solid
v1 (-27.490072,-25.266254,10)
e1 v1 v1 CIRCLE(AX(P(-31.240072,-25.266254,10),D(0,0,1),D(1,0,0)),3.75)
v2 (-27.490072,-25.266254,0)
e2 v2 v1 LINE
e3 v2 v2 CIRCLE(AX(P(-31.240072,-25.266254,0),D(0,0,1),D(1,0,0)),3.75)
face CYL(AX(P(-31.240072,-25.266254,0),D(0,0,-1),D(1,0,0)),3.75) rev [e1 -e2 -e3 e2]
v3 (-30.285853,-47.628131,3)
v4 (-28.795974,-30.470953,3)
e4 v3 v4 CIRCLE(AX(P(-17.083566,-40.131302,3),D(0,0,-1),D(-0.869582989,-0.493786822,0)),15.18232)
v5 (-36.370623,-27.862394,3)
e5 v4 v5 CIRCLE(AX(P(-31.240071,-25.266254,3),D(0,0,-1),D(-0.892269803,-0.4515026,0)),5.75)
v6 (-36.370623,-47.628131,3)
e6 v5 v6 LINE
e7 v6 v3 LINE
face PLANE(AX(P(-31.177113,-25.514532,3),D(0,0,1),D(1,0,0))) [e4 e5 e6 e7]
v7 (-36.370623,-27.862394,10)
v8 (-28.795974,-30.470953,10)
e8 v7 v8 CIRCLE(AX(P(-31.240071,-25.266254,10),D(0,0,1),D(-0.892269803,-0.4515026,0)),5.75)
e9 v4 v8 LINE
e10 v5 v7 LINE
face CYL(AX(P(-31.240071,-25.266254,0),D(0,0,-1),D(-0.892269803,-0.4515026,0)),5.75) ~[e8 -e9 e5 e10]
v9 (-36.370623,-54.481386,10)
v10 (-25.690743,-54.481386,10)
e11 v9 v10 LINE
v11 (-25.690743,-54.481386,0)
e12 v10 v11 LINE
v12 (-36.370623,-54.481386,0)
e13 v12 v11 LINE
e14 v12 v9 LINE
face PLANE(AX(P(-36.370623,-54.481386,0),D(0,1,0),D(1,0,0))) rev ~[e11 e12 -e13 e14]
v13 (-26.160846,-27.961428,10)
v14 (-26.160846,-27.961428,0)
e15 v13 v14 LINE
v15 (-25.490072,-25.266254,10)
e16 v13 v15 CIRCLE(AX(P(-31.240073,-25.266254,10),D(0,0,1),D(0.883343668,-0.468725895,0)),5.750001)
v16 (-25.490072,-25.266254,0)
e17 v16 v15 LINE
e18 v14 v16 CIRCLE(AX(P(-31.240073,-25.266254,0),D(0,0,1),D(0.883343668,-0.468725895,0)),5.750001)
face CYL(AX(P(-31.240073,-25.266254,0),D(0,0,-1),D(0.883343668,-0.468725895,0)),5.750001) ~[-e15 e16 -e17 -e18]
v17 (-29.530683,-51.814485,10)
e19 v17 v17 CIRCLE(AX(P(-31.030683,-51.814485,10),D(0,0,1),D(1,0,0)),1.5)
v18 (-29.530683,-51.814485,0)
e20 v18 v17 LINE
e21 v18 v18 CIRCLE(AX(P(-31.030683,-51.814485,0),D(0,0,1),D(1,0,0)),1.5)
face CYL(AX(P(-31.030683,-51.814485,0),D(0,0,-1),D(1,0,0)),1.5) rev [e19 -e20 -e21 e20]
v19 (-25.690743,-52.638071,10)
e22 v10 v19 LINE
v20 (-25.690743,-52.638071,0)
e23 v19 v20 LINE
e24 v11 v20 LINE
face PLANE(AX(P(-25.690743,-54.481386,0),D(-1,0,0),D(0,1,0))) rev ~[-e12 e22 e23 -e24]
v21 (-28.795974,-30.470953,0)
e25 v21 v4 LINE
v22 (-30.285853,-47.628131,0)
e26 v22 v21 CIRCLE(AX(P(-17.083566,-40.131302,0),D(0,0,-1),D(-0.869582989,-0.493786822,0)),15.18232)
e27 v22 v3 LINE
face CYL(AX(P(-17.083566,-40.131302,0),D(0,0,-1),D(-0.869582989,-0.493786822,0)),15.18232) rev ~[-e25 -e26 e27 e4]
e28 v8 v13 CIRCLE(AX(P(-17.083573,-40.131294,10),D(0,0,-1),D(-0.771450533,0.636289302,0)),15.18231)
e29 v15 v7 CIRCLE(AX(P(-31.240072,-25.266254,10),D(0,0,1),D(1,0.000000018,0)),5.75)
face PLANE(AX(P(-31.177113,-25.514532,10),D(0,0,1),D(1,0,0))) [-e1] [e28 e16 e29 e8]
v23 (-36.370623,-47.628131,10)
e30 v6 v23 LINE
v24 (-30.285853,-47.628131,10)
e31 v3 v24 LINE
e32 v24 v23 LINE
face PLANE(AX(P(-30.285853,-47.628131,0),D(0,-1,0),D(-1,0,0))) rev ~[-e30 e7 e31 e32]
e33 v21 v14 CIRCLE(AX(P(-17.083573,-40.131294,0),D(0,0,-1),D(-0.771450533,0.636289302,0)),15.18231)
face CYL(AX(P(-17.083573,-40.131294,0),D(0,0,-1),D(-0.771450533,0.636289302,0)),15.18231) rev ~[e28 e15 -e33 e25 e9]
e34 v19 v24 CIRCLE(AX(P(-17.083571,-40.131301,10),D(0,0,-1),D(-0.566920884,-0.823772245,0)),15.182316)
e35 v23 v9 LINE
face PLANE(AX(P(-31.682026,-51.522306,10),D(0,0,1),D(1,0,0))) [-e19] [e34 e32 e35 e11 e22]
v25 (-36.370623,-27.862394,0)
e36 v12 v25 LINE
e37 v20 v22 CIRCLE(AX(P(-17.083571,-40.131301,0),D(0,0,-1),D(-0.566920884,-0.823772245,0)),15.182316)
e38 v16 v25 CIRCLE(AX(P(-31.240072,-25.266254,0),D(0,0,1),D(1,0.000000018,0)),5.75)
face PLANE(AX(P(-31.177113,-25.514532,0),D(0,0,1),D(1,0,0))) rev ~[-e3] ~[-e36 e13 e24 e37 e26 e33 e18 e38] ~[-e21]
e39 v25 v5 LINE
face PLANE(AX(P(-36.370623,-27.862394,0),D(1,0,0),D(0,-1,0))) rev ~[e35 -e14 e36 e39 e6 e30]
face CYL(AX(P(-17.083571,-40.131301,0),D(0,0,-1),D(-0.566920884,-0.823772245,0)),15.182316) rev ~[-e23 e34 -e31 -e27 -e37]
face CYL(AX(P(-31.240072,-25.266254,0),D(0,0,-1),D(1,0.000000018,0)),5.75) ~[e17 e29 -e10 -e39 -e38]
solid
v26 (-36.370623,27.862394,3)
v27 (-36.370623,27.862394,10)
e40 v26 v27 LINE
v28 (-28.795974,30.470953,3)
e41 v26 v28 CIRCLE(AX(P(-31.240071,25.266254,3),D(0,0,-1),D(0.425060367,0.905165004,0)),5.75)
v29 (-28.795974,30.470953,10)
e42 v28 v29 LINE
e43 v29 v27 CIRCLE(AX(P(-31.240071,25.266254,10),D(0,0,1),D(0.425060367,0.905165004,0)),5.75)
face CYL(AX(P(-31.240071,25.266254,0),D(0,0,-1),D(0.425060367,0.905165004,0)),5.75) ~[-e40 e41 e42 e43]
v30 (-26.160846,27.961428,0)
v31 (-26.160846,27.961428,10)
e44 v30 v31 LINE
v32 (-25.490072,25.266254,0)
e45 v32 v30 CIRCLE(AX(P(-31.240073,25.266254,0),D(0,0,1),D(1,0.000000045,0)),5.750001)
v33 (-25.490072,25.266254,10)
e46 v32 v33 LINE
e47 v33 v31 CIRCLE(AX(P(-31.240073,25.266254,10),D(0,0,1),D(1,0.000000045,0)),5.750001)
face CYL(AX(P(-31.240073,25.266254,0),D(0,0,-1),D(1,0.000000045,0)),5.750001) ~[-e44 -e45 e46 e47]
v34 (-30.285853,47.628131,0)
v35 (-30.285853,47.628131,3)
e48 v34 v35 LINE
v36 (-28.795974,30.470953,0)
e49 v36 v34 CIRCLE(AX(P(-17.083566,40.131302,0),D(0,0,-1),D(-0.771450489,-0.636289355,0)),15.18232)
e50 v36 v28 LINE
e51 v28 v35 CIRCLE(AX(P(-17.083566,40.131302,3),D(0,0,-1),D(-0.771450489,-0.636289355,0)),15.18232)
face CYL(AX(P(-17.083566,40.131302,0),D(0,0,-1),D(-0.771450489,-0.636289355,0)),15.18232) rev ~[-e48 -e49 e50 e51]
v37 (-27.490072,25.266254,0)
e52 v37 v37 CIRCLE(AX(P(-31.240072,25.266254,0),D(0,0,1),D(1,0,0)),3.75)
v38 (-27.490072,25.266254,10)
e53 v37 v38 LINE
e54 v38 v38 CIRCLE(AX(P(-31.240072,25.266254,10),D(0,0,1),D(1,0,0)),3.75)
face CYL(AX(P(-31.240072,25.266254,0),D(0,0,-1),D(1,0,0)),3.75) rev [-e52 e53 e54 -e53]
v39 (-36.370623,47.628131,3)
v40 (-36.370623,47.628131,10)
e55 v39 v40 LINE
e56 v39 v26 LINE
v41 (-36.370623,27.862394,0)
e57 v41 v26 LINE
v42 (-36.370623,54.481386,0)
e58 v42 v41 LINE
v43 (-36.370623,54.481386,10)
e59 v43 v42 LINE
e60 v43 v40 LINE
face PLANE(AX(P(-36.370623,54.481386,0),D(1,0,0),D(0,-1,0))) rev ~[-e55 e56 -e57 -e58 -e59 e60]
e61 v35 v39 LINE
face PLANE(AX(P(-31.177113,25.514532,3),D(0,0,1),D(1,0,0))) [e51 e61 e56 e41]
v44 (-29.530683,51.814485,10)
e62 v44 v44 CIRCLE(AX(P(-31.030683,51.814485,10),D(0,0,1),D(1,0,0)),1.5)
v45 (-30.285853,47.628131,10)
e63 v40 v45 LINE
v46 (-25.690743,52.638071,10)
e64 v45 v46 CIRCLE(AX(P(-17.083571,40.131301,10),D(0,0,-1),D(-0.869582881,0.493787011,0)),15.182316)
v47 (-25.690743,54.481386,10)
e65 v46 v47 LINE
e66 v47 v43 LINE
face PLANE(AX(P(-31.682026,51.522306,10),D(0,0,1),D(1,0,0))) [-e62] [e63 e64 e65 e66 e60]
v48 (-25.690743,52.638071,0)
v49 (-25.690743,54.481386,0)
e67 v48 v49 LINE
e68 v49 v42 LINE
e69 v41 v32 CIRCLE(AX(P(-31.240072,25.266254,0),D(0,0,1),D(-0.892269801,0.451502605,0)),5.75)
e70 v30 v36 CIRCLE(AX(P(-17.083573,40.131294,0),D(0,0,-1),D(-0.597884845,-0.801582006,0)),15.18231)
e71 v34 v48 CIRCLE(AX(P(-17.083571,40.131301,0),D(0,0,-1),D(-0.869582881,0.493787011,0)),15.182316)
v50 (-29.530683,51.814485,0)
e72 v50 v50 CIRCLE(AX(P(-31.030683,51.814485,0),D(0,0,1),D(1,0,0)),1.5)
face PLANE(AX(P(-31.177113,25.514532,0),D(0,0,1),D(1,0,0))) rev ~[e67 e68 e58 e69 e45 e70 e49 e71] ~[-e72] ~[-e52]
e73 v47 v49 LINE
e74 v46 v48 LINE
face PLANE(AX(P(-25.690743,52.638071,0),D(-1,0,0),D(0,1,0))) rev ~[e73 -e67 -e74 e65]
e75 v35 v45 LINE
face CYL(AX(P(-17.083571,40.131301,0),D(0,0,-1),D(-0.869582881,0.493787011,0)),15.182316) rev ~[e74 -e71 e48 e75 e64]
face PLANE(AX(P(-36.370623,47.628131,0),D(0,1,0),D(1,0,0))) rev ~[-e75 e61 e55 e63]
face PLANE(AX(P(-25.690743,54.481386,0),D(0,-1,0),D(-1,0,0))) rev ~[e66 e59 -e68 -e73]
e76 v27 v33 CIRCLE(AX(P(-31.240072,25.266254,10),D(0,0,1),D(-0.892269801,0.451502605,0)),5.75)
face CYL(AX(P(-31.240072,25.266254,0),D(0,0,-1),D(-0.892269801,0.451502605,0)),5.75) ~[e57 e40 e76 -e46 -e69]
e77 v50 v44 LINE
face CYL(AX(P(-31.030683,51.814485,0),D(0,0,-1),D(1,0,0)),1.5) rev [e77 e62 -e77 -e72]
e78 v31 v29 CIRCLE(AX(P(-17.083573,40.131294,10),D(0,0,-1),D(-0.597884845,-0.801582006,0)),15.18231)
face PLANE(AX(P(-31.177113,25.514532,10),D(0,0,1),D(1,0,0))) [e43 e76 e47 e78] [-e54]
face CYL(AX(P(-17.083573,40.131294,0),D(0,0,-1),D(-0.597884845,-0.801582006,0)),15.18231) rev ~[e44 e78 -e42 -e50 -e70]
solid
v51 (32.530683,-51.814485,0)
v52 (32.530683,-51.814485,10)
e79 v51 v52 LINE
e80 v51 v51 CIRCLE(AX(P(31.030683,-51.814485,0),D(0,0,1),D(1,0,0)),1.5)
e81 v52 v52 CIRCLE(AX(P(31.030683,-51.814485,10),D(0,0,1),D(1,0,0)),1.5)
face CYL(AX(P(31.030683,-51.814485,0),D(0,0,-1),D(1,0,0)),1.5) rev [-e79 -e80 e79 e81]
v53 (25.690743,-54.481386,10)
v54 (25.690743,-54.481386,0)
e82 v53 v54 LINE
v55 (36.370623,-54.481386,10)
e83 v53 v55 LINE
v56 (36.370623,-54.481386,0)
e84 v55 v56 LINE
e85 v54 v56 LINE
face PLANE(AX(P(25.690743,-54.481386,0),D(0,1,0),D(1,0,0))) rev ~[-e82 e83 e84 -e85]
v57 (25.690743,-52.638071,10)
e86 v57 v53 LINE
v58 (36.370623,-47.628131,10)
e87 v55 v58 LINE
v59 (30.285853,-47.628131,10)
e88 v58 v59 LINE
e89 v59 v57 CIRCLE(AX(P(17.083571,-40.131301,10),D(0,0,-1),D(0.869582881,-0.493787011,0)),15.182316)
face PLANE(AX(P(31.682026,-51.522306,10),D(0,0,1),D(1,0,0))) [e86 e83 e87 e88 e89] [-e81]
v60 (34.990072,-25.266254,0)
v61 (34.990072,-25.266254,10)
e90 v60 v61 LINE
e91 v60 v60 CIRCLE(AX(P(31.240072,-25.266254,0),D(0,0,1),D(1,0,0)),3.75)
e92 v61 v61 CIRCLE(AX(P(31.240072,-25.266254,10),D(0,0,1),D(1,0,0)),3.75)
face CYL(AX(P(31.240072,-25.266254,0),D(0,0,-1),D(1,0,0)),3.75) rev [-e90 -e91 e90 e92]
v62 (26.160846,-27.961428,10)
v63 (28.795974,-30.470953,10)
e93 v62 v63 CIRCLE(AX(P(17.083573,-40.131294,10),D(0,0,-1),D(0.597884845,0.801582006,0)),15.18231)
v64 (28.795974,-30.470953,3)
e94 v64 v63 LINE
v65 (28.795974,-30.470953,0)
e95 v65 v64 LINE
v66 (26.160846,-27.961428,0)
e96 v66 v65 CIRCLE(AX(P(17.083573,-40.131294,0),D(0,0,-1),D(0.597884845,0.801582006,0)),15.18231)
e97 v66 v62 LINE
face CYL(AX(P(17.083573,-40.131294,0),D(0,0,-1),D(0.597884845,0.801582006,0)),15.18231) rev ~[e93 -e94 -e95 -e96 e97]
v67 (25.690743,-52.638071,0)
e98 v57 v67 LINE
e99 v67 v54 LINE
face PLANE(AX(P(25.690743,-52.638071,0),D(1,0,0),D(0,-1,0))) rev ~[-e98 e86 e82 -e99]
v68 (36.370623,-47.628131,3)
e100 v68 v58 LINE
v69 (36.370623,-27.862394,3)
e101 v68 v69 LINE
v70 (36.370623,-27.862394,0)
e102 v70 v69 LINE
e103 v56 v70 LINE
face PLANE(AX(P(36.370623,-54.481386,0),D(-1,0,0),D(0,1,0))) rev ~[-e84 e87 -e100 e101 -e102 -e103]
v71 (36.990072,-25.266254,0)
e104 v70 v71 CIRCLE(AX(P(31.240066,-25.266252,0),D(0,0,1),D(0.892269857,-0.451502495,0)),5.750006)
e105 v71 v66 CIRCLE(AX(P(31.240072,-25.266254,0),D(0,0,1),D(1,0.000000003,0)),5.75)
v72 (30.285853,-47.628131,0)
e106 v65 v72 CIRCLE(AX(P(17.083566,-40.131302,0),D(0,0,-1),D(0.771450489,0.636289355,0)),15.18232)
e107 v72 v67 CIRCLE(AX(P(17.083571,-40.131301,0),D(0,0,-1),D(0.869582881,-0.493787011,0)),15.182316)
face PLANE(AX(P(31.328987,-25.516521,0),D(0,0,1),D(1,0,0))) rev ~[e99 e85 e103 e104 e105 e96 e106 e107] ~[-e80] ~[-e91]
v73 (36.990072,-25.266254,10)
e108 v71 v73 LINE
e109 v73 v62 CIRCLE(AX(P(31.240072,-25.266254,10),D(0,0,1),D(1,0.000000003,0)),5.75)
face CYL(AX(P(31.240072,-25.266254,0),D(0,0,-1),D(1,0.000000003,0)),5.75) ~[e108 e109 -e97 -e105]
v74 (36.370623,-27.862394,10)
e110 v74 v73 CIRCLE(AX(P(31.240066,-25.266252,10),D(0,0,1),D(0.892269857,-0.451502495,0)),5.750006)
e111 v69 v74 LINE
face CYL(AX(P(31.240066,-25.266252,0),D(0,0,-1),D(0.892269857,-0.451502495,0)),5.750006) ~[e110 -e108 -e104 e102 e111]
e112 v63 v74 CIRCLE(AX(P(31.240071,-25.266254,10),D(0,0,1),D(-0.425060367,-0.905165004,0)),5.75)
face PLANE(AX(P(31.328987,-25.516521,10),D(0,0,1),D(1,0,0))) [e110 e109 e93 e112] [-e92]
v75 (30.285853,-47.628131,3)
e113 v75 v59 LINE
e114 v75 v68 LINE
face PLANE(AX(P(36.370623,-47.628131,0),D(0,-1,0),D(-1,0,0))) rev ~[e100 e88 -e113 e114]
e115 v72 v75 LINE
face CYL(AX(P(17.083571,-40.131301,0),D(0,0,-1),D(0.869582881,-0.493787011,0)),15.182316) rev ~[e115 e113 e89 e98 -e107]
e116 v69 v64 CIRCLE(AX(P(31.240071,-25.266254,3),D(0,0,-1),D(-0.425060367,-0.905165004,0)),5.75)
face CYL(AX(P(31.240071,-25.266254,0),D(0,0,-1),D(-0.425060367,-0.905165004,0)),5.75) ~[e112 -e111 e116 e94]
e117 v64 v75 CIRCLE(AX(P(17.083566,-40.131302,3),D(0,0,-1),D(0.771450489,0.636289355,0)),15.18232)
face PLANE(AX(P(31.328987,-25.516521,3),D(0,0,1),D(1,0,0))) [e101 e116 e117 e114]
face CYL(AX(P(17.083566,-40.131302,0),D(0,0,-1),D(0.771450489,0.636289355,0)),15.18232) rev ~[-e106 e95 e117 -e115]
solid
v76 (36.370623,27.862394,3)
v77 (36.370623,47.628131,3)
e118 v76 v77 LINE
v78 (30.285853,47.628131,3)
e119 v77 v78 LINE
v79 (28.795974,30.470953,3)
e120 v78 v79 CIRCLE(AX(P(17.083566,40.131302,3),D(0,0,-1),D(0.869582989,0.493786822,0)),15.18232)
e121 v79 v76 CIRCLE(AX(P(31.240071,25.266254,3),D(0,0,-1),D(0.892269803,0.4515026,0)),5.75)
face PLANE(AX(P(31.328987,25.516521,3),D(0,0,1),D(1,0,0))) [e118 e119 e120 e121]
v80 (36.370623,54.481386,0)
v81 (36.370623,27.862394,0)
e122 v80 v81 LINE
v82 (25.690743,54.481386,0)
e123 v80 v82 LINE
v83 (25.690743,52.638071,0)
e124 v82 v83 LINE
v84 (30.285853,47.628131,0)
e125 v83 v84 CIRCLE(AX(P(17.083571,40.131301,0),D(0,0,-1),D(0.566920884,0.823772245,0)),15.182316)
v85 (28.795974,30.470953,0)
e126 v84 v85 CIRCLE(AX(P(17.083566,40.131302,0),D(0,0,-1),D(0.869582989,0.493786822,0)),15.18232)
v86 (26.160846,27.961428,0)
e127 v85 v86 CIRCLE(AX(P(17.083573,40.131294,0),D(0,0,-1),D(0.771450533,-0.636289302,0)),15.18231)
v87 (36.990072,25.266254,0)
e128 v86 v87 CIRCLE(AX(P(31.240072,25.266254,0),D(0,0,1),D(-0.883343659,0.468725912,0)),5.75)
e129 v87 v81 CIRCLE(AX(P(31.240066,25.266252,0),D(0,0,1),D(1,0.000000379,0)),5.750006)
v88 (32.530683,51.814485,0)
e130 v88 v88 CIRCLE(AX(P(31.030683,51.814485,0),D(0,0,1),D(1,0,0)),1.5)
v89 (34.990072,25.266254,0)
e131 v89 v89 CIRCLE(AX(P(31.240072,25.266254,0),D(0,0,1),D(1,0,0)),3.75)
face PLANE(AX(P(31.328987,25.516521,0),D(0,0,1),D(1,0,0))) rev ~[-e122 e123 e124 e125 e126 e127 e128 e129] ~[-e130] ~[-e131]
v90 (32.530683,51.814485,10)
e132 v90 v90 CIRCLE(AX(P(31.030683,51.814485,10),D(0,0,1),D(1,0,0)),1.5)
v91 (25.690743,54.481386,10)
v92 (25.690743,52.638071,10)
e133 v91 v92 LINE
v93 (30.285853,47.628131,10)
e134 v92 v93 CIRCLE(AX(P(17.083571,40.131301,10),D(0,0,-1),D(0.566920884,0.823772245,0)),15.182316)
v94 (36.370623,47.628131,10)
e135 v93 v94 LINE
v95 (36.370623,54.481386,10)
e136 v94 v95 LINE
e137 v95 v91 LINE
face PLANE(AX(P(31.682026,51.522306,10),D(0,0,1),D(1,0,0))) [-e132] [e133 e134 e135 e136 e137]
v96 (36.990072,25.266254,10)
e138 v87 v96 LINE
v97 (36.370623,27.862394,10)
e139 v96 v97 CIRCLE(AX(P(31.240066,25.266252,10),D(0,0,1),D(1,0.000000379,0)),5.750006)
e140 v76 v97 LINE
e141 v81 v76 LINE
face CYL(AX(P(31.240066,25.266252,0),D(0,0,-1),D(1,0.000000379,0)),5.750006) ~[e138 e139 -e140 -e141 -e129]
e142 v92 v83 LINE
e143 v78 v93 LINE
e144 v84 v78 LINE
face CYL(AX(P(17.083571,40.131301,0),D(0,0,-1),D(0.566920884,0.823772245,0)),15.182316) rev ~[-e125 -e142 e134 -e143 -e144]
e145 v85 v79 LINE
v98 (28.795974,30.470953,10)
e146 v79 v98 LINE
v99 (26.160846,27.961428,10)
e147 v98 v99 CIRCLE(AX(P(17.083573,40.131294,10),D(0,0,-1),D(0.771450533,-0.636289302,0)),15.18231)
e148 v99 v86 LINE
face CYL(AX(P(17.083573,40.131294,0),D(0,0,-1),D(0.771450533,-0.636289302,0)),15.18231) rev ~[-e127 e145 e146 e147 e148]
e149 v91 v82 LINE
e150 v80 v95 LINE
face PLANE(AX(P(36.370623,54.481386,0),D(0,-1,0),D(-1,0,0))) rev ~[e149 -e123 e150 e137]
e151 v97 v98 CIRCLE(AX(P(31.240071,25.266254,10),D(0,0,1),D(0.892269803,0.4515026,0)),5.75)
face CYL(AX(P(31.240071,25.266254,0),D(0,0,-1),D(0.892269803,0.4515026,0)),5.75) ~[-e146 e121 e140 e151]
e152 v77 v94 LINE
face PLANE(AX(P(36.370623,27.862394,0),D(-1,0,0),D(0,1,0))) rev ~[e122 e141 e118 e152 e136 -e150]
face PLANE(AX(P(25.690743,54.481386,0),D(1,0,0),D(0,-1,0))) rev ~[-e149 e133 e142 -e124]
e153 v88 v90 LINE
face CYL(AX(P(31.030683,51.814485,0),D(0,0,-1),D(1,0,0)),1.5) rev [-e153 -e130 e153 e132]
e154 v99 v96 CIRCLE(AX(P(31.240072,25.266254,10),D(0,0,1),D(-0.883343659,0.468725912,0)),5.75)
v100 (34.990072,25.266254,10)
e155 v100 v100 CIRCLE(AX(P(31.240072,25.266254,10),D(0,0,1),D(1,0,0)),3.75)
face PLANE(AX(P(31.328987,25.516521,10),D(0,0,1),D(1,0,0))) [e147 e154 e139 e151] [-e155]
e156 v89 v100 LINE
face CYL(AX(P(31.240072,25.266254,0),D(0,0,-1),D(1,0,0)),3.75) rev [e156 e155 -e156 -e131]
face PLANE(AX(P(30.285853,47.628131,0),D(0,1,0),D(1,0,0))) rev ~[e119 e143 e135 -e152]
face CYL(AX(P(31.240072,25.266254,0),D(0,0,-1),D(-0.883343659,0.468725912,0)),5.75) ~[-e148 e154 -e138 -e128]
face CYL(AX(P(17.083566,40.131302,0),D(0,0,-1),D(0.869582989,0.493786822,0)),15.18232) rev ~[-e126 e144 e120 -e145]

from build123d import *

# Parameters (mm, degrees)
F0_R     = 3.75
F0_R_2   = 1.5
F1_DEPTH = 3
F2_DEPTH = 10


with BuildPart() as f1:
    # F0 (on Top) → F1 (new body)
    with BuildSketch(Plane.XY):
        with BuildLine():
            ThreePointArc((-36.370623, 27.862394), (-32.574581, 19.67326), (-25.490072, 25.266254))
            ThreePointArc((-25.490072, 25.266254), (-25.660285, 26.65495), (-26.160846, 27.961428))
            ThreePointArc((-26.160846, 27.961428), (-27.553867, 29.136956), (-28.795974, 30.470953))
            ThreePointArc((-28.795974, 30.470953), (-33.112344, 30.702898), (-36.370623, 27.862394))
        make_face()
        with Locations((-31.240072, 25.266254)):
            Circle(F0_R, mode=Mode.SUBTRACT)
        with BuildLine():
            ThreePointArc((26.160846, 27.961428), (29.851376, 19.686467), (36.990072, 25.266254))
            ThreePointArc((36.990072, 25.266254), (36.833066, 26.600763), (36.370623, 27.862394))
            ThreePointArc((36.370623, 27.862394), (33.112344, 30.702898), (28.795974, 30.470953))
            ThreePointArc((28.795974, 30.470953), (27.553867, 29.136956), (26.160846, 27.961428))
        make_face()
        with Locations((31.240072, 25.266254)):
            Circle(F0_R, mode=Mode.SUBTRACT)
        with BuildLine():
            Line((30.285853, 47.628131), (36.370623, 47.628131))
            Line((36.370623, 47.628131), (36.370623, 54.481386))
            Line((36.370623, 54.481386), (25.690743, 54.481386))
            Line((25.690743, 54.481386), (25.690743, 52.638071))
            ThreePointArc((25.690743, 52.638071), (28.272313, 50.393599), (30.285853, 47.628131))
        make_face()
        with Locations((31.030683, 51.814485)):
            Circle(F0_R_2, mode=Mode.SUBTRACT)
        with BuildLine():
            ThreePointArc((36.370623, -27.862394), (36.833066, -26.600763), (36.990072, -25.266254))
            ThreePointArc((36.990072, -25.266254), (29.851376, -19.686467), (26.160846, -27.961428))
            ThreePointArc((26.160846, -27.961428), (27.553867, -29.136956), (28.795974, -30.470953))
            ThreePointArc((28.795974, -30.470953), (33.112344, -30.702898), (36.370623, -27.862394))
        make_face()
        with Locations((31.240072, -25.266254)):
            Circle(F0_R, mode=Mode.SUBTRACT)
        with BuildLine():
            Line((36.370623, -47.628131), (36.370623, -27.862394))
            ThreePointArc((36.370623, -27.862394), (33.112344, -30.702898), (28.795974, -30.470953))
            ThreePointArc((28.795974, -30.470953), (32.208965, -38.817856), (30.285853, -47.628131))
            Line((30.285853, -47.628131), (36.370623, -47.628131))
        make_face()
        with BuildLine():
            ThreePointArc((-26.160846, -27.961428), (-25.660285, -26.65495), (-25.490072, -25.266254))
            ThreePointArc((-25.490072, -25.266254), (-32.574581, -19.67326), (-36.370623, -27.862394))
            ThreePointArc((-36.370623, -27.862394), (-33.112344, -30.702898), (-28.795974, -30.470953))
            ThreePointArc((-28.795974, -30.470953), (-27.553867, -29.136956), (-26.160846, -27.961428))
        make_face()
        with Locations((-31.240072, -25.266254)):
            Circle(F0_R, mode=Mode.SUBTRACT)
        with BuildLine():
            Line((-36.370623, 47.628131), (-36.370623, 27.862394))
            ThreePointArc((-36.370623, 27.862394), (-33.112344, 30.702898), (-28.795974, 30.470953))
            ThreePointArc((-28.795974, 30.470953), (-32.208965, 38.817856), (-30.285853, 47.628131))
            Line((-30.285853, 47.628131), (-36.370623, 47.628131))
        make_face()
        with BuildLine():
            ThreePointArc((-28.795974, -30.470953), (-33.112344, -30.702898), (-36.370623, -27.862394))
            Line((-36.370623, -27.862394), (-36.370623, -47.628131))
            Line((-36.370623, -47.628131), (-30.285853, -47.628131))
            ThreePointArc((-30.285853, -47.628131), (-32.208965, -38.817856), (-28.795974, -30.470953))
        make_face()
        with BuildLine():
            ThreePointArc((28.795974, 30.470953), (33.112344, 30.702898), (36.370623, 27.862394))
            Line((36.370623, 27.862394), (36.370623, 47.628131))
            Line((36.370623, 47.628131), (30.285853, 47.628131))
            ThreePointArc((30.285853, 47.628131), (32.208965, 38.817856), (28.795974, 30.470953))
        make_face()
        with BuildLine():
            Line((-36.370623, 54.481386), (-36.370623, 47.628131))
            Line((-36.370623, 47.628131), (-30.285853, 47.628131))
            ThreePointArc((-30.285853, 47.628131), (-28.272313, 50.393599), (-25.690743, 52.638071))
            Line((-25.690743, 52.638071), (-25.690743, 54.481386))
            Line((-25.690743, 54.481386), (-36.370623, 54.481386))
        make_face()
        with Locations((-31.030683, 51.814485)):
            Circle(F0_R_2, mode=Mode.SUBTRACT)
        with BuildLine():
            Line((36.370623, -54.481386), (36.370623, -47.628131))
            Line((36.370623, -47.628131), (30.285853, -47.628131))
            ThreePointArc((30.285853, -47.628131), (28.272313, -50.393599), (25.690743, -52.638071))
            Line((25.690743, -52.638071), (25.690743, -54.481386))
            Line((25.690743, -54.481386), (36.370623, -54.481386))
        make_face()
        with Locations((31.030683, -51.814485)):
            Circle(F0_R_2, mode=Mode.SUBTRACT)
        with BuildLine():
            Line((-30.285853, -47.628131), (-36.370623, -47.628131))
            Line((-36.370623, -47.628131), (-36.370623, -54.481386))
            Line((-36.370623, -54.481386), (-25.690743, -54.481386))
            Line((-25.690743, -54.481386), (-25.690743, -52.638071))
            ThreePointArc((-25.690743, -52.638071), (-28.272313, -50.393599), (-30.285853, -47.628131))
        make_face()
        with Locations((-31.030683, -51.814485)):
            Circle(F0_R_2, mode=Mode.SUBTRACT)
    extrude(amount=F1_DEPTH)

    # F0 (on Top) → F2 (join)
    with BuildSketch(Plane.XY):
        with BuildLine():
            ThreePointArc((-36.370623, 27.862394), (-32.574581, 19.67326), (-25.490072, 25.266254))
            ThreePointArc((-25.490072, 25.266254), (-25.660285, 26.65495), (-26.160846, 27.961428))
            ThreePointArc((-26.160846, 27.961428), (-27.553867, 29.136956), (-28.795974, 30.470953))
            ThreePointArc((-28.795974, 30.470953), (-33.112344, 30.702898), (-36.370623, 27.862394))
        make_face()
        with Locations((-31.240072, 25.266254)):
            Circle(F0_R, mode=Mode.SUBTRACT)
        with BuildLine():
            ThreePointArc((26.160846, 27.961428), (29.851376, 19.686467), (36.990072, 25.266254))
            ThreePointArc((36.990072, 25.266254), (36.833066, 26.600763), (36.370623, 27.862394))
            ThreePointArc((36.370623, 27.862394), (33.112344, 30.702898), (28.795974, 30.470953))
            ThreePointArc((28.795974, 30.470953), (27.553867, 29.136956), (26.160846, 27.961428))
        make_face()
        with Locations((31.240072, 25.266254)):
            Circle(F0_R, mode=Mode.SUBTRACT)
        with BuildLine():
            ThreePointArc((36.370623, -27.862394), (36.833066, -26.600763), (36.990072, -25.266254))
            ThreePointArc((36.990072, -25.266254), (29.851376, -19.686467), (26.160846, -27.961428))
            ThreePointArc((26.160846, -27.961428), (27.553867, -29.136956), (28.795974, -30.470953))
            ThreePointArc((28.795974, -30.470953), (33.112344, -30.702898), (36.370623, -27.862394))
        make_face()
        with Locations((31.240072, -25.266254)):
            Circle(F0_R, mode=Mode.SUBTRACT)
        with BuildLine():
            ThreePointArc((-26.160846, -27.961428), (-25.660285, -26.65495), (-25.490072, -25.266254))
            ThreePointArc((-25.490072, -25.266254), (-32.574581, -19.67326), (-36.370623, -27.862394))
            ThreePointArc((-36.370623, -27.862394), (-33.112344, -30.702898), (-28.795974, -30.470953))
            ThreePointArc((-28.795974, -30.470953), (-27.553867, -29.136956), (-26.160846, -27.961428))
        make_face()
        with Locations((-31.240072, -25.266254)):
            Circle(F0_R, mode=Mode.SUBTRACT)
        with BuildLine():
            Line((-36.370623, 54.481386), (-36.370623, 47.628131))
            Line((-36.370623, 47.628131), (-30.285853, 47.628131))
            ThreePointArc((-30.285853, 47.628131), (-28.272313, 50.393599), (-25.690743, 52.638071))
            Line((-25.690743, 52.638071), (-25.690743, 54.481386))
            Line((-25.690743, 54.481386), (-36.370623, 54.481386))
        make_face()
        with Locations((-31.030683, 51.814485)):
            Circle(F0_R_2, mode=Mode.SUBTRACT)
        with BuildLine():
            Line((30.285853, 47.628131), (36.370623, 47.628131))
            Line((36.370623, 47.628131), (36.370623, 54.481386))
            Line((36.370623, 54.481386), (25.690743, 54.481386))
            Line((25.690743, 54.481386), (25.690743, 52.638071))
            ThreePointArc((25.690743, 52.638071), (28.272313, 50.393599), (30.285853, 47.628131))
        make_face()
        with Locations((31.030683, 51.814485)):
            Circle(F0_R_2, mode=Mode.SUBTRACT)
        with BuildLine():
            Line((36.370623, -54.481386), (36.370623, -47.628131))
            Line((36.370623, -47.628131), (30.285853, -47.628131))
            ThreePointArc((30.285853, -47.628131), (28.272313, -50.393599), (25.690743, -52.638071))
            Line((25.690743, -52.638071), (25.690743, -54.481386))
            Line((25.690743, -54.481386), (36.370623, -54.481386))
        make_face()
        with Locations((31.030683, -51.814485)):
            Circle(F0_R_2, mode=Mode.SUBTRACT)
        with BuildLine():
            Line((-30.285853, -47.628131), (-36.370623, -47.628131))
            Line((-36.370623, -47.628131), (-36.370623, -54.481386))
            Line((-36.370623, -54.481386), (-25.690743, -54.481386))
            Line((-25.690743, -54.481386), (-25.690743, -52.638071))
            ThreePointArc((-25.690743, -52.638071), (-28.272313, -50.393599), (-30.285853, -47.628131))
        make_face()
        with Locations((-31.030683, -51.814485)):
            Circle(F0_R_2, mode=Mode.SUBTRACT)
    extrude(amount=F2_DEPTH)


solid = f1.part
